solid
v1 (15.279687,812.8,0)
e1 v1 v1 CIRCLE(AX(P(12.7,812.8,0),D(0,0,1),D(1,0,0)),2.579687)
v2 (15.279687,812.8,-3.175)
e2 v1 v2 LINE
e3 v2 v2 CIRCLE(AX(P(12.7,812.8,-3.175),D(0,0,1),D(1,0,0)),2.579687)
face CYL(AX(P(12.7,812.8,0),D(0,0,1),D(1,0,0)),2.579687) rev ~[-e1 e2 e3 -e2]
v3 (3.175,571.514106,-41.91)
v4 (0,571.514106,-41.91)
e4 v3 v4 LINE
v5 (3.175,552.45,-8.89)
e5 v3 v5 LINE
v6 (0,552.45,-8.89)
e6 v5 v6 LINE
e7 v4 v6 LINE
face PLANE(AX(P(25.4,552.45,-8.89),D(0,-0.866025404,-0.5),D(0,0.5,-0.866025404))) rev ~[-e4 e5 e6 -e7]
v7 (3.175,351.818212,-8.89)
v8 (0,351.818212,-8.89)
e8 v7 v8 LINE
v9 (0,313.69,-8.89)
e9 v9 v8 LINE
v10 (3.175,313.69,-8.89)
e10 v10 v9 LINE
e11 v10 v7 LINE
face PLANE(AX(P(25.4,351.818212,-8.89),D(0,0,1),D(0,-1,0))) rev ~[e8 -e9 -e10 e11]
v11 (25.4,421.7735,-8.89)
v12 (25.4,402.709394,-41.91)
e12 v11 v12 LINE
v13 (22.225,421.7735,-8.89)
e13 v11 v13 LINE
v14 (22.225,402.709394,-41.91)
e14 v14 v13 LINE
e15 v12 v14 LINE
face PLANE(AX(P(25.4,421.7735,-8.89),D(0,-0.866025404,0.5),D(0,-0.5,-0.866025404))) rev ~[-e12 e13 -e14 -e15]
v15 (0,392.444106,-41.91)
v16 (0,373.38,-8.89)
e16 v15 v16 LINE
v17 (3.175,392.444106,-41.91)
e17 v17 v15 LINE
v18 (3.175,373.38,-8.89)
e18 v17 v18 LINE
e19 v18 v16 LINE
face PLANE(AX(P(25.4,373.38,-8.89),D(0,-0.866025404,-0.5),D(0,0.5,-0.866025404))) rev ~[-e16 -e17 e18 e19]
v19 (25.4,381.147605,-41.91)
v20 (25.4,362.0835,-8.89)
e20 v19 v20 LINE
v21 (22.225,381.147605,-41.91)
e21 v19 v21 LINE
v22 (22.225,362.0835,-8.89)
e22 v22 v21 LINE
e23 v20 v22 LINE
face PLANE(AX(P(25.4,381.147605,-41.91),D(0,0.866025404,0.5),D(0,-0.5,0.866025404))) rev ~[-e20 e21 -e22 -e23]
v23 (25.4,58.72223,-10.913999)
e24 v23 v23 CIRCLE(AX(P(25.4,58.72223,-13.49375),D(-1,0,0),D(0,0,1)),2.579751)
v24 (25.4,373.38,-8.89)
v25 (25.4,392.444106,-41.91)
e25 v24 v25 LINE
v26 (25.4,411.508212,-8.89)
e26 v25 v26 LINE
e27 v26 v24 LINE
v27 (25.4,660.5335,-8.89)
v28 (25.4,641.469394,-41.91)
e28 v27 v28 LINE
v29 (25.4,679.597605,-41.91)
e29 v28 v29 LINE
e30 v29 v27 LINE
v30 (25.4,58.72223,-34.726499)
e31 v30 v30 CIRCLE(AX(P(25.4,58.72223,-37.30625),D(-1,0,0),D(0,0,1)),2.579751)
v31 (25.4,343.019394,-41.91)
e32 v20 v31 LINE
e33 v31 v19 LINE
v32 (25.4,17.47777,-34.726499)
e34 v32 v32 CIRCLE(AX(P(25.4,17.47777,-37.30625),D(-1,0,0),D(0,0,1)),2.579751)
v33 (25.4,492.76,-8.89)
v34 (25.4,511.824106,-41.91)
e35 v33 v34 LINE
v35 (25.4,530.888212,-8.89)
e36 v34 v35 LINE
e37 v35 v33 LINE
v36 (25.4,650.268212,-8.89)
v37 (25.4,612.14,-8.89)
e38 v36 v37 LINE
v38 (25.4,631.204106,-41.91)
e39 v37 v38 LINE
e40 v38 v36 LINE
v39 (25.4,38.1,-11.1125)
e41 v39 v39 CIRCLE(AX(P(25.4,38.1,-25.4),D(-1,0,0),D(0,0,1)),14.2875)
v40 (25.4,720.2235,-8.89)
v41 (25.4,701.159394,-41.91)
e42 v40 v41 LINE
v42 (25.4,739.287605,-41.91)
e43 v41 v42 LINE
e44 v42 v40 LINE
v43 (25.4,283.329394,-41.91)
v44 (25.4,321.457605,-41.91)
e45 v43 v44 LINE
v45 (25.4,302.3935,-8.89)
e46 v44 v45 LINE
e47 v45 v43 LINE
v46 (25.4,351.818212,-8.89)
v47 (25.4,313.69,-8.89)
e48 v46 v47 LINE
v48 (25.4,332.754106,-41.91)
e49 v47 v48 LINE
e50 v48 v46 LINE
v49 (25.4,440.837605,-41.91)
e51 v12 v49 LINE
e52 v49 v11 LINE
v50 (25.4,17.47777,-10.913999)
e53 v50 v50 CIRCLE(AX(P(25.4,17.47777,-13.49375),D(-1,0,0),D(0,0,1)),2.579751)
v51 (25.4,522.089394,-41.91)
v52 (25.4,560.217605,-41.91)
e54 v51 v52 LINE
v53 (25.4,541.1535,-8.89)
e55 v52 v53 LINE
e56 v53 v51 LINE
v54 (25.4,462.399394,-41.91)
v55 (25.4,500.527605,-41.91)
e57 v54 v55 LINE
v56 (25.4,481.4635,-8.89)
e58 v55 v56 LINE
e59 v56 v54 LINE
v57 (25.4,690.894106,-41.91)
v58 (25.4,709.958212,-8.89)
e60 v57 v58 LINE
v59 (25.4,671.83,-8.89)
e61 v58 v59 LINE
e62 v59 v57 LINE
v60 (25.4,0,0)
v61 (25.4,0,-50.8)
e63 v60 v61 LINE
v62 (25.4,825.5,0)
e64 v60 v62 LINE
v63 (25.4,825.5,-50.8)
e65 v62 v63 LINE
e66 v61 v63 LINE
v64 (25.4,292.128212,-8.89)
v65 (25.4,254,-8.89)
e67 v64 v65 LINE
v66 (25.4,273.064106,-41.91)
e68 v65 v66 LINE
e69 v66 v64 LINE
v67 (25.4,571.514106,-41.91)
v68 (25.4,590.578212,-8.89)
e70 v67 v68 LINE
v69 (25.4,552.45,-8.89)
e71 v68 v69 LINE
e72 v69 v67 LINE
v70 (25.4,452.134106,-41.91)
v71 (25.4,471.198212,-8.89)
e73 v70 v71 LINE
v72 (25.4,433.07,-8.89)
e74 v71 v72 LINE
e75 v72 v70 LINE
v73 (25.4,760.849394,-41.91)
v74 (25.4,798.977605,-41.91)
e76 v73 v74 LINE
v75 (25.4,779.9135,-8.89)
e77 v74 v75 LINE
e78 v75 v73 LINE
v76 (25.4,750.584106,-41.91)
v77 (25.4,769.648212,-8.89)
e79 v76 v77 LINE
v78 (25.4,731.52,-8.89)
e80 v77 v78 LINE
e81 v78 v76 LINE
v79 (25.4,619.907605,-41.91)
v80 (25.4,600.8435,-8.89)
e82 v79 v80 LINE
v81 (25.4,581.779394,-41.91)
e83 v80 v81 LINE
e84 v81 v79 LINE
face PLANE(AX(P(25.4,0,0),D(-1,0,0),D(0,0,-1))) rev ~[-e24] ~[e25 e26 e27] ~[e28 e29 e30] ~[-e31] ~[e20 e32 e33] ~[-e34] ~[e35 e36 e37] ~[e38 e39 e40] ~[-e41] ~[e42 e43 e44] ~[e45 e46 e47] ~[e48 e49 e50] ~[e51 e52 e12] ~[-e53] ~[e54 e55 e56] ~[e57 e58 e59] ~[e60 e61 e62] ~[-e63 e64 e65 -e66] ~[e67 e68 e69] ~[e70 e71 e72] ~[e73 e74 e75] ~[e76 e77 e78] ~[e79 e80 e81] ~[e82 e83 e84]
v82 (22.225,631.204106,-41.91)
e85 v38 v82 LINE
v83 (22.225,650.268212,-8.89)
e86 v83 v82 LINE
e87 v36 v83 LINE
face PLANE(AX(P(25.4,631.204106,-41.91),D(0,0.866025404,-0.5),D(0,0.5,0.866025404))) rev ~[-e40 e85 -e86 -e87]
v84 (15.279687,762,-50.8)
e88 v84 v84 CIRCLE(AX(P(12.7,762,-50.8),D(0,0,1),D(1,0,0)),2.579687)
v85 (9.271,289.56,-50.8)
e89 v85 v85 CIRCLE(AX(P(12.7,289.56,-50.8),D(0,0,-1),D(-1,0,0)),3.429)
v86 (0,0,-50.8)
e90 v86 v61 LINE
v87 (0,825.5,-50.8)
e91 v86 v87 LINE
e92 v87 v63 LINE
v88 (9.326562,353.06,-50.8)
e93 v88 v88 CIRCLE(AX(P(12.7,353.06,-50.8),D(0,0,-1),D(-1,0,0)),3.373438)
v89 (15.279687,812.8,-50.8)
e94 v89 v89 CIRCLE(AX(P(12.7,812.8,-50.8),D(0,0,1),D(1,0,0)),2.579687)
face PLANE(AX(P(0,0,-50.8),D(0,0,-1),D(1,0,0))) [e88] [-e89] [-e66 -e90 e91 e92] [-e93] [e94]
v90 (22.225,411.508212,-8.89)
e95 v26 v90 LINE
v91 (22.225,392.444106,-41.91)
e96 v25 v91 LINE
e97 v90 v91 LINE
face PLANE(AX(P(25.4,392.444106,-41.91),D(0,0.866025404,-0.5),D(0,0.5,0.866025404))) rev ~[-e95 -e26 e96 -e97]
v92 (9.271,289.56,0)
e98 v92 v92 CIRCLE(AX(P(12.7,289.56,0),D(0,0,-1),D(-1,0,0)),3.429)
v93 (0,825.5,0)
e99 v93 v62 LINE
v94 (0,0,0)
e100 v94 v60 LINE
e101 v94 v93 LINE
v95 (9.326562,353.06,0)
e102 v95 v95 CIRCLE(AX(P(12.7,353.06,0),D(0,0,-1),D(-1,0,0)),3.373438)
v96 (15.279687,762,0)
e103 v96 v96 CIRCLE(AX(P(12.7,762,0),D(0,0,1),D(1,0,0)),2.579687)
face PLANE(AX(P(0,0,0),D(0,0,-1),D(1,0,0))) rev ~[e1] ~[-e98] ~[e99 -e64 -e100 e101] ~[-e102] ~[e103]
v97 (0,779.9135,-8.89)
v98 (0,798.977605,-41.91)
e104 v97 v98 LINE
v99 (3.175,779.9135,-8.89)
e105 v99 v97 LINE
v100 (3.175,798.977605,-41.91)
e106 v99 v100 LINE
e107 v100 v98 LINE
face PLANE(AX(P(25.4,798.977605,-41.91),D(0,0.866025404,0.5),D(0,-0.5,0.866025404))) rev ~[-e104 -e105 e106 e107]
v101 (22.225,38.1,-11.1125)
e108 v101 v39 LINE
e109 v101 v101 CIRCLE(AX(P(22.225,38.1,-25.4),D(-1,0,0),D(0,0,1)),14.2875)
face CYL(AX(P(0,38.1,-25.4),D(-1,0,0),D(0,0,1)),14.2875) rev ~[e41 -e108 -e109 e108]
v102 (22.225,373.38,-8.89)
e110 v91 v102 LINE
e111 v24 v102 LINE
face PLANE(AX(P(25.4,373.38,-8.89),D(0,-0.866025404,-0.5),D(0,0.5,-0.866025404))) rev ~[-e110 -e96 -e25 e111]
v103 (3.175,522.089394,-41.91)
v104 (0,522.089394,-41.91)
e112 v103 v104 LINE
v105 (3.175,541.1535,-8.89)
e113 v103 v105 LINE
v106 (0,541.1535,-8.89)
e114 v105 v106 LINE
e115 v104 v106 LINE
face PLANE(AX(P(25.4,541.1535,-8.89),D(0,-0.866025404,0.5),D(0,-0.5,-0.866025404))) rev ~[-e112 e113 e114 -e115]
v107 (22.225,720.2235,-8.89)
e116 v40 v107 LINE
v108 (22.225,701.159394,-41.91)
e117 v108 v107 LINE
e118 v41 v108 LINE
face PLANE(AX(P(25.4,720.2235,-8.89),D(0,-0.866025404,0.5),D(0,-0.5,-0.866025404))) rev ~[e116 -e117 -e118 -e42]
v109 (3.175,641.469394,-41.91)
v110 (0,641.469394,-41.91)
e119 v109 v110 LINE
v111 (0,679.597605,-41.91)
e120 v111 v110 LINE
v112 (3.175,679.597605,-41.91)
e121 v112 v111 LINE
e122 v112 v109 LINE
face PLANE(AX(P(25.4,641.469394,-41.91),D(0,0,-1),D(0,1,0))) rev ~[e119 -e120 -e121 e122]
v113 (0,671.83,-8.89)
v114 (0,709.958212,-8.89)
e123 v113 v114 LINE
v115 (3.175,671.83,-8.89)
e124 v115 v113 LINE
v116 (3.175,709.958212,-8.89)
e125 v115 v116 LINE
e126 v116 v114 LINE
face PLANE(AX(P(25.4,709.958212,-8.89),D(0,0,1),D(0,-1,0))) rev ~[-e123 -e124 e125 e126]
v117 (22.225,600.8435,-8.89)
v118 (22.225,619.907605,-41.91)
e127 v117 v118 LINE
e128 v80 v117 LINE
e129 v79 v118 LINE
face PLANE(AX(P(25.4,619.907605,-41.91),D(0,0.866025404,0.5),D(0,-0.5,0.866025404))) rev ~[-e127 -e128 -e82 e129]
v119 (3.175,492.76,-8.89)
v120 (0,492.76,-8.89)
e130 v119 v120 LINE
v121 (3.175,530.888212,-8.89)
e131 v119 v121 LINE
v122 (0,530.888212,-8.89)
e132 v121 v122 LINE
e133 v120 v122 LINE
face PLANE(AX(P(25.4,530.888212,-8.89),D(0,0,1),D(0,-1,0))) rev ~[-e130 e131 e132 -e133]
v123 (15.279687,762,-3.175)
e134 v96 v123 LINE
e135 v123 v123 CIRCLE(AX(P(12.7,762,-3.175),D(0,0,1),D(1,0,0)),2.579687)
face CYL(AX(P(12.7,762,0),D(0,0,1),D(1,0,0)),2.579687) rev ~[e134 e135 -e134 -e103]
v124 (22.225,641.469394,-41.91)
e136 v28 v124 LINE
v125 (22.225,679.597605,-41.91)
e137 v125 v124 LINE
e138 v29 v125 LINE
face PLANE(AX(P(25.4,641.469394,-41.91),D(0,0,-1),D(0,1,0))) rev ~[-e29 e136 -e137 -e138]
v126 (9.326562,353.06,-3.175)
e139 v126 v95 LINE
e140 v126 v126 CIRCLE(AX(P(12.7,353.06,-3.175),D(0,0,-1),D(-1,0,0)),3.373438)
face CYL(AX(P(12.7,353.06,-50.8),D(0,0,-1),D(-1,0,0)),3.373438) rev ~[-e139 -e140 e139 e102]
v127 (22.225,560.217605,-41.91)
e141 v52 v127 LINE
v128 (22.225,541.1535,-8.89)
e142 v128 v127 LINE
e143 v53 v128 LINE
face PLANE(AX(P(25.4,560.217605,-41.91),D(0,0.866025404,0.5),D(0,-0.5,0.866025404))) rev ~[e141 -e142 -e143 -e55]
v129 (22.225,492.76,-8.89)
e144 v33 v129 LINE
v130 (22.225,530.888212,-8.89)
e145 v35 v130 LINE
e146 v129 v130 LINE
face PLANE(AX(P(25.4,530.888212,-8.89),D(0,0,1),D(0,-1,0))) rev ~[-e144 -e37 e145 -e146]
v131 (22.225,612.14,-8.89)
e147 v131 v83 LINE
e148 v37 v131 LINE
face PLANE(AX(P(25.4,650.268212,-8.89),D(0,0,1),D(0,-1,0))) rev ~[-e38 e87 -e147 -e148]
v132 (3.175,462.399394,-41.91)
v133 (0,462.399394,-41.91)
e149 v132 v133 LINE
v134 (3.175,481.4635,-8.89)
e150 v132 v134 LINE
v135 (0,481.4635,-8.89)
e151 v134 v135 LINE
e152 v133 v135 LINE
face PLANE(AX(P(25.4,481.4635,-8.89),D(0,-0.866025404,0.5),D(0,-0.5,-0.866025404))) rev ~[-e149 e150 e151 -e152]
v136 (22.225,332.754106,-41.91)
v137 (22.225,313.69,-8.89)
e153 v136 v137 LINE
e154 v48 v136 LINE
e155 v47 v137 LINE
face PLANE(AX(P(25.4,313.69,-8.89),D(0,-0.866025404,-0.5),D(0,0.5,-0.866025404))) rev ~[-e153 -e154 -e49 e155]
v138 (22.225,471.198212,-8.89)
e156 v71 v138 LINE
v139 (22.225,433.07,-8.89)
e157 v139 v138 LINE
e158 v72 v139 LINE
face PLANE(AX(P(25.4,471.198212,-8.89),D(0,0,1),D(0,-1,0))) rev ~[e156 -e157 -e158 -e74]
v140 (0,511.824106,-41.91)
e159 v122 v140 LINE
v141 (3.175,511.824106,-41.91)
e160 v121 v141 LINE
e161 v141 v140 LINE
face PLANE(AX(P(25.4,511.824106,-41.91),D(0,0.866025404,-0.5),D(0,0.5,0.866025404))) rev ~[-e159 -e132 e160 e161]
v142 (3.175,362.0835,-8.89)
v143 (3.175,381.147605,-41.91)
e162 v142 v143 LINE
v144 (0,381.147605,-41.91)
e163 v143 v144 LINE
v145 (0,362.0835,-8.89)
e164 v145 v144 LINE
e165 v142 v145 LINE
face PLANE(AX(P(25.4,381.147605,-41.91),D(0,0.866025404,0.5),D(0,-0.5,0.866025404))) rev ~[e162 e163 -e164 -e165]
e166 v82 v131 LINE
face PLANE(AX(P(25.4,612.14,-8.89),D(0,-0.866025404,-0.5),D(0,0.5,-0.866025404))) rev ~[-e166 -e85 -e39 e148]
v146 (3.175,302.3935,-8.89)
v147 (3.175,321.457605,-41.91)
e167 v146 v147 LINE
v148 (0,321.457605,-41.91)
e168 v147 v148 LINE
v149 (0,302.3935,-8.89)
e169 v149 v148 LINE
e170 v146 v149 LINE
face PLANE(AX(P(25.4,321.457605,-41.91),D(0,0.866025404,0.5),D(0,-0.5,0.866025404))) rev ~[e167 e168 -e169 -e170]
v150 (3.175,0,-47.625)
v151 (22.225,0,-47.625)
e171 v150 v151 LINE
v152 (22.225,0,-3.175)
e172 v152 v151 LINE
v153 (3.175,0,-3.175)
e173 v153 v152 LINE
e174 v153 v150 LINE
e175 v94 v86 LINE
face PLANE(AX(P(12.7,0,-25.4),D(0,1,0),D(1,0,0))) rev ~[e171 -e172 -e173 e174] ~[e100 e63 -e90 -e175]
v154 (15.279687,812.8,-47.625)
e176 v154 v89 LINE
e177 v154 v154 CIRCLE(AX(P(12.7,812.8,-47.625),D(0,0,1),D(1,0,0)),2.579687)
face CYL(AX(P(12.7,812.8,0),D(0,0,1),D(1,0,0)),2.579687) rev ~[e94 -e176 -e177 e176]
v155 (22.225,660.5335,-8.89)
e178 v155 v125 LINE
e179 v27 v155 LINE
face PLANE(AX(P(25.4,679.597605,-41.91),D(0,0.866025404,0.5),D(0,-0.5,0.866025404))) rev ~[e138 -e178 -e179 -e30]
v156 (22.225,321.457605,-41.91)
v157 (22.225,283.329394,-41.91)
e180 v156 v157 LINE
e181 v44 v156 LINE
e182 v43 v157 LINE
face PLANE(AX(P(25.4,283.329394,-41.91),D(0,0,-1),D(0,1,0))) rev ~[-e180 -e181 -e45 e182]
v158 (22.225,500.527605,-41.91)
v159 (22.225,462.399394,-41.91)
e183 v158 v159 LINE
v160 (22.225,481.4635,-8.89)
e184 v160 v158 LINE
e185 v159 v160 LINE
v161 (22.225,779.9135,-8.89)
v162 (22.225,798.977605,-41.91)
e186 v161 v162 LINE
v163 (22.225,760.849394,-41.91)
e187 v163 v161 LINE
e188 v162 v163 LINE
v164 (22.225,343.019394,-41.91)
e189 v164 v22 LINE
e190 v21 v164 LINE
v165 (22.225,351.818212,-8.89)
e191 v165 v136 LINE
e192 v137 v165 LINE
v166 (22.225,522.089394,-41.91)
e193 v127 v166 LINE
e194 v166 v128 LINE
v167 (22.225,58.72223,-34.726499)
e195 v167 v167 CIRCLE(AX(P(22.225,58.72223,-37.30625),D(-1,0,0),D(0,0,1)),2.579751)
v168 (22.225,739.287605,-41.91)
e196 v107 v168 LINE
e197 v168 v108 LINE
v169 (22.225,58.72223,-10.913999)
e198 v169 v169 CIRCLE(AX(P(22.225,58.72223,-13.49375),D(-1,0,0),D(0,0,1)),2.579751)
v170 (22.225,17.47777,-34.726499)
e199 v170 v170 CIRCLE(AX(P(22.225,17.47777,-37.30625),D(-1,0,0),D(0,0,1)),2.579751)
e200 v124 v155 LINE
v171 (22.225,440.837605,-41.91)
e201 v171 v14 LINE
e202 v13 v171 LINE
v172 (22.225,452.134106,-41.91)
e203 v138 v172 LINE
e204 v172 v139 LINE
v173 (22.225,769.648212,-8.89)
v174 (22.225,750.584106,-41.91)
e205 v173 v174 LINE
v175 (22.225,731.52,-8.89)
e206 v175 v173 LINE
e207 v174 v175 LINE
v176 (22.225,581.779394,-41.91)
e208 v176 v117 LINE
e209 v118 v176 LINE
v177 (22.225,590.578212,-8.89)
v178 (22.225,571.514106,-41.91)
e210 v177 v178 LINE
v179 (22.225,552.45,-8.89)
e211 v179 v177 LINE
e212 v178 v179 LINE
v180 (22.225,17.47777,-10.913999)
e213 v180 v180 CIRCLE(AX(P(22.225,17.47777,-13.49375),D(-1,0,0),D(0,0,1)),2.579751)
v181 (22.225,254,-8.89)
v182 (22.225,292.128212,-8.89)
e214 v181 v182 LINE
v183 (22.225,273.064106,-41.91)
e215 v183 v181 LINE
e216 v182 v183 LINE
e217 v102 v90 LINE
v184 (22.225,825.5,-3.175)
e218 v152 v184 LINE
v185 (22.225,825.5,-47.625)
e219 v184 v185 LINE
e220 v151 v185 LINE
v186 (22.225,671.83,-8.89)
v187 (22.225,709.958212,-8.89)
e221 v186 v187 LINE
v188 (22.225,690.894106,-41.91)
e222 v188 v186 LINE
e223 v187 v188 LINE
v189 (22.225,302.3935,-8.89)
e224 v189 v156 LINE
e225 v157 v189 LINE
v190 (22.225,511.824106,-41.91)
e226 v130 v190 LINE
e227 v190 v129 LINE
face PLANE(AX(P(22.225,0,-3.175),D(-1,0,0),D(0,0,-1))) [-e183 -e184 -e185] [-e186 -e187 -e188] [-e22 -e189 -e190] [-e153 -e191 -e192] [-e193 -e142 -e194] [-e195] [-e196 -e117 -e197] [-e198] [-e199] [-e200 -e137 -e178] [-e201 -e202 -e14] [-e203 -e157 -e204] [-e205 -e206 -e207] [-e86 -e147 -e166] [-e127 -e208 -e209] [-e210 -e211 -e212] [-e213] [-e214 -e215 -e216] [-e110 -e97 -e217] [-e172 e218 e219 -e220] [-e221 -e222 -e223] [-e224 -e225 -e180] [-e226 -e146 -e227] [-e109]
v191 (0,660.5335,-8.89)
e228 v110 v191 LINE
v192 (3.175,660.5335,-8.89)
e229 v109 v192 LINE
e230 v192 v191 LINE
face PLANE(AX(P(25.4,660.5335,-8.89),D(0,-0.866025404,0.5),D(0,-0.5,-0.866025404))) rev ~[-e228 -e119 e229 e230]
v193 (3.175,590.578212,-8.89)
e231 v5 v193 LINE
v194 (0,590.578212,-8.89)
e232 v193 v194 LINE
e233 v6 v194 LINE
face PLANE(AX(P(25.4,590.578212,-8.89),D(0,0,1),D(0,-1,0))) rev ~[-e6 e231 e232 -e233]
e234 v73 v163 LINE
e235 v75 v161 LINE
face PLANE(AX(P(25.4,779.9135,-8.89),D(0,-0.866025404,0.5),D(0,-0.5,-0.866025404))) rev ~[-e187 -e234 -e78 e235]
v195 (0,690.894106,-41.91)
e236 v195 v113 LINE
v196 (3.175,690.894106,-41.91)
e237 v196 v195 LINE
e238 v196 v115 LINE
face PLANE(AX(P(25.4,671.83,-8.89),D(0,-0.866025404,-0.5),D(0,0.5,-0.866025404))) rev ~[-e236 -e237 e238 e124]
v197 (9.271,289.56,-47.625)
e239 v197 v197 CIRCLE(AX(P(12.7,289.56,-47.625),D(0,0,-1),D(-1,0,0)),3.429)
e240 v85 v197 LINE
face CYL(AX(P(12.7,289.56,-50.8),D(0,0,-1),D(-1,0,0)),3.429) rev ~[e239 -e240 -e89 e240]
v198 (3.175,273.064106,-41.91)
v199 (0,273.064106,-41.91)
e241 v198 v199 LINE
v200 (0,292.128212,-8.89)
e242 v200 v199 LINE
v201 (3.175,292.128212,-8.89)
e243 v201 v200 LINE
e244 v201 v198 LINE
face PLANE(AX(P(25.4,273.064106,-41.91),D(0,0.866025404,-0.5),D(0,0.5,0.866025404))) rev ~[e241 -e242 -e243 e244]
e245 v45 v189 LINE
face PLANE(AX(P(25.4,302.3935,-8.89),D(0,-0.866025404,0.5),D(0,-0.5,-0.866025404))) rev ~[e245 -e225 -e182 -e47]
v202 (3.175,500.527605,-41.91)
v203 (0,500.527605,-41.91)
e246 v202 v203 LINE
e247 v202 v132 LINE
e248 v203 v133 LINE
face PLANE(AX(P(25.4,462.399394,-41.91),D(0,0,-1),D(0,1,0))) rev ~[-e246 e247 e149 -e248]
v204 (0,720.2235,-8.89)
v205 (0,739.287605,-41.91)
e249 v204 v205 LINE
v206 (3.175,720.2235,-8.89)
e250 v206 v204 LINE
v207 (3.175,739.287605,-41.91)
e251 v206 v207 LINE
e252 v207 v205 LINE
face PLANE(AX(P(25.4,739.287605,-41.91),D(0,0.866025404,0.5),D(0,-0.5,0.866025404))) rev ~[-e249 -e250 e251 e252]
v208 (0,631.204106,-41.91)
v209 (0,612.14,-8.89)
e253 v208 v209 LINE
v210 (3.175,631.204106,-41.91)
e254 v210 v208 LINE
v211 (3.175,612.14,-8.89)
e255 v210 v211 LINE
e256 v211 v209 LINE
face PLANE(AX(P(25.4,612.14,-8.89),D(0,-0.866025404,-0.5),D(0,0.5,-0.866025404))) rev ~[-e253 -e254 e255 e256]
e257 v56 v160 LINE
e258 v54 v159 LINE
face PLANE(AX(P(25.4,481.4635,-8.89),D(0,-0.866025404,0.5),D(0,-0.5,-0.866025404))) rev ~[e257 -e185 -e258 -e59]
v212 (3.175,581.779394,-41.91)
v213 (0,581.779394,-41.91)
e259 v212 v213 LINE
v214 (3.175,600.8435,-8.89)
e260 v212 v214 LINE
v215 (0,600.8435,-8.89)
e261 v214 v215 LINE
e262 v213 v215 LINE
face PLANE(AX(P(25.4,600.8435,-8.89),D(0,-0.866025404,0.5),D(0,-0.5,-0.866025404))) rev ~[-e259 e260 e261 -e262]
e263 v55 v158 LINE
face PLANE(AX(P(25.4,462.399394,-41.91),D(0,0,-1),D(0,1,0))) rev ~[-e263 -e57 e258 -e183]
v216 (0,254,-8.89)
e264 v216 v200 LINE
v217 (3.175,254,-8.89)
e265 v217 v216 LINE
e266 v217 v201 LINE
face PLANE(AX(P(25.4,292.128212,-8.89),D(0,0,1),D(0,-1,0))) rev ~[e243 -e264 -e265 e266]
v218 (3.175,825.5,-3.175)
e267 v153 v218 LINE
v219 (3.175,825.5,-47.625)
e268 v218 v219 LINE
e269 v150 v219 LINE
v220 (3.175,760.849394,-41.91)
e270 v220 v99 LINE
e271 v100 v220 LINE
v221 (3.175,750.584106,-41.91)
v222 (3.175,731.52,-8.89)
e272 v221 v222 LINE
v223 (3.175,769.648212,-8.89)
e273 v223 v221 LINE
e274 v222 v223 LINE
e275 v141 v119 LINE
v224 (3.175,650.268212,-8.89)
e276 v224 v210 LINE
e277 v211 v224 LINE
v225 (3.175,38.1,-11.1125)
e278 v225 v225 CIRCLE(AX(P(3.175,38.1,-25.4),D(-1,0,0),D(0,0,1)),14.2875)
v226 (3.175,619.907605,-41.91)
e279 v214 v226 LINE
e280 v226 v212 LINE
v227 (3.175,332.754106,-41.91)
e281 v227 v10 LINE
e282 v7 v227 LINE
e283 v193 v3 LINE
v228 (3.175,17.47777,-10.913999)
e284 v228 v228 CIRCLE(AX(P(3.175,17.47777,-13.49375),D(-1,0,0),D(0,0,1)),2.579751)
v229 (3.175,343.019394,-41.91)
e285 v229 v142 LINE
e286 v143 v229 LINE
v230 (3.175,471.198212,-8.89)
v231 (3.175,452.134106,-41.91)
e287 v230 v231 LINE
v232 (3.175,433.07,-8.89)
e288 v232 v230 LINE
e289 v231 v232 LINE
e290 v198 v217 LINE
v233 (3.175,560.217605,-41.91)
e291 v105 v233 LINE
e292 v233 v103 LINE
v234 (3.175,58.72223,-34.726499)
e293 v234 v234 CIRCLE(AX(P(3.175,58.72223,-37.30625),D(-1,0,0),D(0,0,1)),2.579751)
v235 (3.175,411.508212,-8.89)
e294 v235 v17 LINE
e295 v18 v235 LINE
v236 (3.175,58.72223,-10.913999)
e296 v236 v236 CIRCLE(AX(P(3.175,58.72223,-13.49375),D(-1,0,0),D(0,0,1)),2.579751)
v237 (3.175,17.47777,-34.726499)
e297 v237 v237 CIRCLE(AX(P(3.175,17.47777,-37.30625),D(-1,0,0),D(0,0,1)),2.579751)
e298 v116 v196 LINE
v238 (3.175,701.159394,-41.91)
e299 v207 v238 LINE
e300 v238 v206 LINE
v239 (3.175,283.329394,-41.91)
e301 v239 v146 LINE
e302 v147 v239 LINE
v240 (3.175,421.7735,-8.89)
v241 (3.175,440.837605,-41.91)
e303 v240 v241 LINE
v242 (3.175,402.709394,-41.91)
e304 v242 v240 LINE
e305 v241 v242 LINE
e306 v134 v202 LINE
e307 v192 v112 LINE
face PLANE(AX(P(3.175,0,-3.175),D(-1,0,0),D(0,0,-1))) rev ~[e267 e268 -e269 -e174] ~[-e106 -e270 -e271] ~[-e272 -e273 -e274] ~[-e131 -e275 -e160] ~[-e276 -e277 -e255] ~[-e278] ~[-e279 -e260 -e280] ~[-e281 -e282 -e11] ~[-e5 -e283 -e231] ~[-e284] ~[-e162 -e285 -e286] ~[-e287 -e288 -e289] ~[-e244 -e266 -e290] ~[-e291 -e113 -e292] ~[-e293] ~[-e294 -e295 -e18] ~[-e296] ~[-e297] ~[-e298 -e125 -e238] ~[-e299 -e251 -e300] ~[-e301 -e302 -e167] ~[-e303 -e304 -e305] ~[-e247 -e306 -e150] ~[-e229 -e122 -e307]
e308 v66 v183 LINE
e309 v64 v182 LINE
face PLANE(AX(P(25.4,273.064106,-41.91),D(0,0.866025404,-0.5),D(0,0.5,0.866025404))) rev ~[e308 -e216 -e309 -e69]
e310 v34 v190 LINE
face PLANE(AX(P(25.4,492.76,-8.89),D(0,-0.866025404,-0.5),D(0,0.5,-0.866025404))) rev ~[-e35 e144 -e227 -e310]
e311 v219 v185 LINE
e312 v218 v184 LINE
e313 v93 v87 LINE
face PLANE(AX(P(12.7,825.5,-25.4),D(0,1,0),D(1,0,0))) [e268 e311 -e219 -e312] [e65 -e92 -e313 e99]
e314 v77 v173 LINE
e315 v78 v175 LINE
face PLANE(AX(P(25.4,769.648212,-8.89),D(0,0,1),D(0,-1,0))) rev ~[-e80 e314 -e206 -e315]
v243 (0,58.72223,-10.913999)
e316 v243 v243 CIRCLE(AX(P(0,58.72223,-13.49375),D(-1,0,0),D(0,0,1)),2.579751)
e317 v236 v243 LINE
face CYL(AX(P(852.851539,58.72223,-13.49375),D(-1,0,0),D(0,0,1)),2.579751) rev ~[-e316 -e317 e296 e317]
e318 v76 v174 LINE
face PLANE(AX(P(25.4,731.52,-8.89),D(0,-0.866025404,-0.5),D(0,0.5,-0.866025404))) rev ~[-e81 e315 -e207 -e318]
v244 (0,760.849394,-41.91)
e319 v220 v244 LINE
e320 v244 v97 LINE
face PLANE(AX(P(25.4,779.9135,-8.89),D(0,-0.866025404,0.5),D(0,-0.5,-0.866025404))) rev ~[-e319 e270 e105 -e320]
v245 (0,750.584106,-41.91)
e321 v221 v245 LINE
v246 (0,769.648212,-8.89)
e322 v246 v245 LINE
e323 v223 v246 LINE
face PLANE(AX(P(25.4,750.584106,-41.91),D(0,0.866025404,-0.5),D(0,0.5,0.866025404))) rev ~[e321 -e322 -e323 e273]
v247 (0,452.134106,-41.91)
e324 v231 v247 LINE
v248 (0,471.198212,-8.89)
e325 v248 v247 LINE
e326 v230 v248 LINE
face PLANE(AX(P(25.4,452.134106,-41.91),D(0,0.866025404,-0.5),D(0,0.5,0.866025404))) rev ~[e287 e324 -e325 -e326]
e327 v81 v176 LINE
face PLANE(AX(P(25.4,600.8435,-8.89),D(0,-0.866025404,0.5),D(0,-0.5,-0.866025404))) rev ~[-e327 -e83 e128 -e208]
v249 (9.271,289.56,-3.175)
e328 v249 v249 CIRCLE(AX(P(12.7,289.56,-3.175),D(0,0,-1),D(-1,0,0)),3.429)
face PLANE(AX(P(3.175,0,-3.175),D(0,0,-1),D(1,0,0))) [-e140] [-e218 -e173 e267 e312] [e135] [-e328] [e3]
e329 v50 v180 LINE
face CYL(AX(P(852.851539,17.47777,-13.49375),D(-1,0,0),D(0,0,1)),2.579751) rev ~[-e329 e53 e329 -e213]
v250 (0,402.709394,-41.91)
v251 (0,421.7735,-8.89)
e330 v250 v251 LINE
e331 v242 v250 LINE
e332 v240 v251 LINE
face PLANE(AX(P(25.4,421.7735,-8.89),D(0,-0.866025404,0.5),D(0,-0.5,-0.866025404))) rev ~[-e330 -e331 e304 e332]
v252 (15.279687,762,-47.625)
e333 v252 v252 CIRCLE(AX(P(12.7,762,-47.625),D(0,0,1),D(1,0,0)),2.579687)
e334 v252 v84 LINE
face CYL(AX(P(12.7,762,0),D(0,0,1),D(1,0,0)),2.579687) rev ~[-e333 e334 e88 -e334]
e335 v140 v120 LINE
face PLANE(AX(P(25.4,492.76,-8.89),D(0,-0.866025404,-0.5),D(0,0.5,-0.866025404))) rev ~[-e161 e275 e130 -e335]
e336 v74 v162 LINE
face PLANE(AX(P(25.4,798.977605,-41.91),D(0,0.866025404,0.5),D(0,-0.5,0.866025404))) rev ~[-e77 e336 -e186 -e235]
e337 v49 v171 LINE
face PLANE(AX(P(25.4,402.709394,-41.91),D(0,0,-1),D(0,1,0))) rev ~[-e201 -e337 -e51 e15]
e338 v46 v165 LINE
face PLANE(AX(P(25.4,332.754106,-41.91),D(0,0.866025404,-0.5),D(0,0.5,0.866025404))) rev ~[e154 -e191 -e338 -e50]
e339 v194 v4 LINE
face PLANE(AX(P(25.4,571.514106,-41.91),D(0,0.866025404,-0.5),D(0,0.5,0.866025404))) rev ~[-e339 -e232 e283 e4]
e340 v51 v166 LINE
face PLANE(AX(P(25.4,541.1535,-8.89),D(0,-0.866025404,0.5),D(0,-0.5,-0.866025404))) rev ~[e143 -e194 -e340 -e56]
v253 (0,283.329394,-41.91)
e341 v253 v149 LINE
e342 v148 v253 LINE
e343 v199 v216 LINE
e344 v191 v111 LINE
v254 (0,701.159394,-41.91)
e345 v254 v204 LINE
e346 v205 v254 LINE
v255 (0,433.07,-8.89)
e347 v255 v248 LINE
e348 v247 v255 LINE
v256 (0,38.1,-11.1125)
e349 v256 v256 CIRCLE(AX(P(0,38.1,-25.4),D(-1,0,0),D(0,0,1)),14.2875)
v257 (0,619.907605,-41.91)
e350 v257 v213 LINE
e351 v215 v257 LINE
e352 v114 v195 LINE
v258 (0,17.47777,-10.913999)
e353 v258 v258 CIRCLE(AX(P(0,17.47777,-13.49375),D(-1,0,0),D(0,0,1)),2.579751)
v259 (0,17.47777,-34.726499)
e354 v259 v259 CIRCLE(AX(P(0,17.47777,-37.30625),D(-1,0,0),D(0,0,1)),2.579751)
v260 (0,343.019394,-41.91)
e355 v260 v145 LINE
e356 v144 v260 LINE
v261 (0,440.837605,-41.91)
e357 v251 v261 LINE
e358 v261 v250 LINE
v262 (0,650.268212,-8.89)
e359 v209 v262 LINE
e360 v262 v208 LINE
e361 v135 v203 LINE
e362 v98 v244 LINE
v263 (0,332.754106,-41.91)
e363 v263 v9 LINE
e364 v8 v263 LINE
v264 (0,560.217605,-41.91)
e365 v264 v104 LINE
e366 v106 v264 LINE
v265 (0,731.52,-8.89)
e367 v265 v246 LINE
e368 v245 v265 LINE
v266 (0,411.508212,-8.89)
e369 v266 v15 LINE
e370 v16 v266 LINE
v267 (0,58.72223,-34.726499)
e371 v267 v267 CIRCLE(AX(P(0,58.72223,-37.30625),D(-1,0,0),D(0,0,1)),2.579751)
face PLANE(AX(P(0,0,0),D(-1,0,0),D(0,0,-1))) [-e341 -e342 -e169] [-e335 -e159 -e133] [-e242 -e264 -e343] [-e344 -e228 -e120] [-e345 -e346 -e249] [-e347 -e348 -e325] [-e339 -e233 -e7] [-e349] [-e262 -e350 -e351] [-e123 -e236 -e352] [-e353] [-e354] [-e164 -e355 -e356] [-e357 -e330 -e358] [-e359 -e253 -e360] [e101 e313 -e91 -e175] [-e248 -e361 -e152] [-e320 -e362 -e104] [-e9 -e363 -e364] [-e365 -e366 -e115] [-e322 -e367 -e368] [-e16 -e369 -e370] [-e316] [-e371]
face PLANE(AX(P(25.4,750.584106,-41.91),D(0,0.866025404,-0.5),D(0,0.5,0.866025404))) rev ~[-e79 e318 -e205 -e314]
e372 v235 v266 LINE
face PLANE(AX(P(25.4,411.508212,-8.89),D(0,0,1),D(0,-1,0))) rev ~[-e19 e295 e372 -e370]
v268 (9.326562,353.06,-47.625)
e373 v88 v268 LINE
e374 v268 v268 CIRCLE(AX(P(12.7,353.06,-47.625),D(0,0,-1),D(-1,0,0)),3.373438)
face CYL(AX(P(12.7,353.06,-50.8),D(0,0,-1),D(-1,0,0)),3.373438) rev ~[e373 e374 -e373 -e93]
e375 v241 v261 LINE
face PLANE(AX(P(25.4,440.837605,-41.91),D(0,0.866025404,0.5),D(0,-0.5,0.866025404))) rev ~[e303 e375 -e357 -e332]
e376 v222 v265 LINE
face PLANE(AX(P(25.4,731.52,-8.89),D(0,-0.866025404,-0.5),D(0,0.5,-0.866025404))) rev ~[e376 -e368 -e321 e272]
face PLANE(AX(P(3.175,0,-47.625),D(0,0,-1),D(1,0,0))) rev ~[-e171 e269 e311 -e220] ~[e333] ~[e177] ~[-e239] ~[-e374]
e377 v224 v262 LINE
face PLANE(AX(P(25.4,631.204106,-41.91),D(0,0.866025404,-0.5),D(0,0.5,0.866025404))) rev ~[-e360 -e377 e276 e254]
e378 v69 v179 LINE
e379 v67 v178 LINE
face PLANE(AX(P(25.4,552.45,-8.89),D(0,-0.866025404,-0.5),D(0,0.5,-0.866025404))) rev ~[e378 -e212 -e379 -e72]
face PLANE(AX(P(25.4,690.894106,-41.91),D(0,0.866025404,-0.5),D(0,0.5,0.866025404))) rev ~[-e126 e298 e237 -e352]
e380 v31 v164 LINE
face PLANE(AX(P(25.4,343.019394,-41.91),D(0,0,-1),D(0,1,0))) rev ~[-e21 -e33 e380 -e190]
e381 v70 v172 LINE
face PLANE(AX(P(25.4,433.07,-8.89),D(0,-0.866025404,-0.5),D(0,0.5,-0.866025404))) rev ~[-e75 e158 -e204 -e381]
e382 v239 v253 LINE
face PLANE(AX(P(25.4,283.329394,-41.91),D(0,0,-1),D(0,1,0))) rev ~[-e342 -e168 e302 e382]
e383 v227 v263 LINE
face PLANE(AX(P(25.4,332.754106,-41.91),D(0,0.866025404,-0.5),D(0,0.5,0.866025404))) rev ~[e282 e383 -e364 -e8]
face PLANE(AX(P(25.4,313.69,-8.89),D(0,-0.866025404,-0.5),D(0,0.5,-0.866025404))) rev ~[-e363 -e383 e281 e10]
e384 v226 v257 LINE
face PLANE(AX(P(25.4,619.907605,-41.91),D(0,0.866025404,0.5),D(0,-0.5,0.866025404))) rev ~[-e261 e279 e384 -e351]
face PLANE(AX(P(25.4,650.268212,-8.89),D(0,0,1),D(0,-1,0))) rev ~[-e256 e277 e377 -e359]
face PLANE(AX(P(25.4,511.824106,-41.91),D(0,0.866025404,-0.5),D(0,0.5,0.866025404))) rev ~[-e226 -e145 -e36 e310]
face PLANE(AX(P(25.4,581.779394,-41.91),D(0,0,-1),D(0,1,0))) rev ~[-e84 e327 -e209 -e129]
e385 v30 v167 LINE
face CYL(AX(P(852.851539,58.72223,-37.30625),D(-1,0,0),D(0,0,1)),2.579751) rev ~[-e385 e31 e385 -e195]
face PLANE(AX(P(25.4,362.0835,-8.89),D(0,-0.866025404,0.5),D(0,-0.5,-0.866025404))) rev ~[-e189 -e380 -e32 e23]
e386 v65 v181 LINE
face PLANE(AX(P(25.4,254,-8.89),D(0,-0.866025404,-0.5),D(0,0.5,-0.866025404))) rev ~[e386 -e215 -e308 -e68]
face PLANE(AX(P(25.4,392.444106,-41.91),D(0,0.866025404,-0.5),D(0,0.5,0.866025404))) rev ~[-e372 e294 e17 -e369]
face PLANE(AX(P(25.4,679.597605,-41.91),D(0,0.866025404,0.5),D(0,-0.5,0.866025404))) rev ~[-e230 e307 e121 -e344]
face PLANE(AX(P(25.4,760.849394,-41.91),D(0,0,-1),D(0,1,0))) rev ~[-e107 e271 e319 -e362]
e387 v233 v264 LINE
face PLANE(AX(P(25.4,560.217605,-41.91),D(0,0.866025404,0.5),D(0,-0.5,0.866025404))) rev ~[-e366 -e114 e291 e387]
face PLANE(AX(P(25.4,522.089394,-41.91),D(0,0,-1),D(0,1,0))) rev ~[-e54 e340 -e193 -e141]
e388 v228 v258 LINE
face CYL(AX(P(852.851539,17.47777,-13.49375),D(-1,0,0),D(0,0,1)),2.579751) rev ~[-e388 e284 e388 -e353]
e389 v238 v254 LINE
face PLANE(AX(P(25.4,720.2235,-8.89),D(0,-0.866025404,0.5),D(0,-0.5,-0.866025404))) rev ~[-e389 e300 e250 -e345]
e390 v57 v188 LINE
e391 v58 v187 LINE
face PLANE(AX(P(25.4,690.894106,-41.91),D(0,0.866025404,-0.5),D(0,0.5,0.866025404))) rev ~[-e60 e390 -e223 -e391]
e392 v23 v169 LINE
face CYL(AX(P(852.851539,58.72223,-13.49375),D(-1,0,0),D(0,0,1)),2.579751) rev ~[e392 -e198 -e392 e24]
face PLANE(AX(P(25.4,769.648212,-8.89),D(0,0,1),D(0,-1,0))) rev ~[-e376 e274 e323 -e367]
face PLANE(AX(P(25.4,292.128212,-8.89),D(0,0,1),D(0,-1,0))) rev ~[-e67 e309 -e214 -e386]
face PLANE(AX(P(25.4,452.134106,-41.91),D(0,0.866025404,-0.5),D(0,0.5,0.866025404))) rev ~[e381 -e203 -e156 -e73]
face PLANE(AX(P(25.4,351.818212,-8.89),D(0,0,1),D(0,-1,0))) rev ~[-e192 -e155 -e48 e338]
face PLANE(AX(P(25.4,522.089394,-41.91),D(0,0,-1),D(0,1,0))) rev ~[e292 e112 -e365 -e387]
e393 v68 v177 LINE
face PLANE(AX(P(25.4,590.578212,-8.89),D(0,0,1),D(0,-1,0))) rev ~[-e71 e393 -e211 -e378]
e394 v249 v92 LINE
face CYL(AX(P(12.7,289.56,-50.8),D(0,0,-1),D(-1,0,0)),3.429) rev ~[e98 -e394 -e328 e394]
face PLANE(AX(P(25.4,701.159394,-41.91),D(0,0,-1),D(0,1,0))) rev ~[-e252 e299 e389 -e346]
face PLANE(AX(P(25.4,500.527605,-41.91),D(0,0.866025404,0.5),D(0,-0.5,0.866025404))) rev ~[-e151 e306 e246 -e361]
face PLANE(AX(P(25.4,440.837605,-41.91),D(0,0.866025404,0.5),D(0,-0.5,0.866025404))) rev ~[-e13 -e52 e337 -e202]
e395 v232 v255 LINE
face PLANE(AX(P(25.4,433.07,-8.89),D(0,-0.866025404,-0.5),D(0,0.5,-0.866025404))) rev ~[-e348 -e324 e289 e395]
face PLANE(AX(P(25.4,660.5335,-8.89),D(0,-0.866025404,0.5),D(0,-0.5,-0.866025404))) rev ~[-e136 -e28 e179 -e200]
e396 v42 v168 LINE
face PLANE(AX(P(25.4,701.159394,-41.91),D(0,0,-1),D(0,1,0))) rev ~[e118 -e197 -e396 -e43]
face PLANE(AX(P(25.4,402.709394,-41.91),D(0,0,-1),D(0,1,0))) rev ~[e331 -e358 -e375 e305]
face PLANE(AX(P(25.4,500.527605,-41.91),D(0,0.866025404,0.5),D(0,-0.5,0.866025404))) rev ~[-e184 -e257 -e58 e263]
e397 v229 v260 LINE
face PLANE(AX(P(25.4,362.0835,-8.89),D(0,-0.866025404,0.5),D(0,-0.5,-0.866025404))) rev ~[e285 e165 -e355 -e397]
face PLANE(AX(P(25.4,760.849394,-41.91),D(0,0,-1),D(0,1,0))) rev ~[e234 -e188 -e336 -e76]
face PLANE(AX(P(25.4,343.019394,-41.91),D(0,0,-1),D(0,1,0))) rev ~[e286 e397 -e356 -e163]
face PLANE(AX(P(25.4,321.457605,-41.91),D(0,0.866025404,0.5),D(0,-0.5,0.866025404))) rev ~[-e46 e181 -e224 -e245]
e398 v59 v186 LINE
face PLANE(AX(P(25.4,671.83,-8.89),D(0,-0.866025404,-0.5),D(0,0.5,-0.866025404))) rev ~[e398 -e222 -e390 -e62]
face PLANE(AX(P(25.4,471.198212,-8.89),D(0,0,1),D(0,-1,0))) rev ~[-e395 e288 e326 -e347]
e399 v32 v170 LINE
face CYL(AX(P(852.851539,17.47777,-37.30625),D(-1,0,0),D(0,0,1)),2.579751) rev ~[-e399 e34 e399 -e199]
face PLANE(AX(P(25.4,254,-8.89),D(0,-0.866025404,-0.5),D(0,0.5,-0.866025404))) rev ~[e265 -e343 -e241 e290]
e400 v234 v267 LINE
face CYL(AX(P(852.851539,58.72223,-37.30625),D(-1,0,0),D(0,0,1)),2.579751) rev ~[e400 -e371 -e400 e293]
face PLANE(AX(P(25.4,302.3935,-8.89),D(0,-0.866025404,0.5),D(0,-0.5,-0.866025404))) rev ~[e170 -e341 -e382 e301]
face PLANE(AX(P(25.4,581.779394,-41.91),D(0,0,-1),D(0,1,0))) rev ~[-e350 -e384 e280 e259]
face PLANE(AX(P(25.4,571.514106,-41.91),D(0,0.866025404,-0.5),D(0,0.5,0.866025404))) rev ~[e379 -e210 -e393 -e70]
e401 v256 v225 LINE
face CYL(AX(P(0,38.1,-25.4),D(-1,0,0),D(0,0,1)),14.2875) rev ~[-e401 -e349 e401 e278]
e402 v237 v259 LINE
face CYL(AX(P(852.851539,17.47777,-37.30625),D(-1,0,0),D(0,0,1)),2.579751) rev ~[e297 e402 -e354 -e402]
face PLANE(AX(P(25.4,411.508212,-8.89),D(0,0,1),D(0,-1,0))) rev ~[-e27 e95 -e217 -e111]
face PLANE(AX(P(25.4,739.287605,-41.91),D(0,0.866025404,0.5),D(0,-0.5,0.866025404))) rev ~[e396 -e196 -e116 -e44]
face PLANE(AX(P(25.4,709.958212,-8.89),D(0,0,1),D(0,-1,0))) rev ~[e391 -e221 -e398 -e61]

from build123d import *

# Parameters (mm, degrees)
SKETCH1_W                        = 25.4
SKETCH1_H                        = 50.8
SKETCH1_W_2                      = 19.05
SKETCH1_H_2                      = 44.45
BOSS_EXTRUDE1_DEPTH              = 825.5
SKETCH2_R                        = 14.2875
CUT_EXTRUDE1_DEPTH               = 828.451539367
SKETCH3_R                        = 2.5796875
CUT_EXTRUDE2_DEPTH               = 828.451539367
F_13_64_0_20313_DIAMETER_HOLE1_D = 5.159502
SKETCH6_R                        = 3.3734375
SKETCH6_R_2                      = 3.429
CUT_EXTRUDE3_DEPTH               = 828.451539367
CUT_EXTRUDE4_DEPTH               = 828.451539367
LPATTERN1_COUNT                  = 9
LPATTERN1_PITCH                  = 59.69


with BuildPart() as part:
    # Sketch1 → Boss-Extrude1 (new body)
    with BuildSketch(Plane(origin=(0, 0, 0), x_dir=(1, 0, 0), z_dir=(0, 1, 0))):
        with Locations((12.7, 25.4)):
            Rectangle(SKETCH1_W, SKETCH1_H)
        with Locations((12.7, 25.4)):
            Rectangle(SKETCH1_W_2, SKETCH1_H_2, mode=Mode.SUBTRACT)
    extrude(amount=BOSS_EXTRUDE1_DEPTH)

    # Sketch2 → Cut-Extrude1 (cut, through all)
    with BuildSketch(Plane.ZY):
        with Locations((-25.4, 38.1)):
            Circle(SKETCH2_R)
    extrude(amount=-CUT_EXTRUDE1_DEPTH, mode=Mode.SUBTRACT)

    # Sketch3 → Cut-Extrude2 (cut, through all)
    with BuildSketch(Plane.XY):
        with Locations((12.7, 812.8)):
            Circle(SKETCH3_R)
        with Locations((12.7, 762)):
            Circle(SKETCH3_R)
    extrude(amount=-CUT_EXTRUDE2_DEPTH, mode=Mode.SUBTRACT)

    # 13/64 (0.20313) Diameter Hole1 (through all)
    with Locations(Plane(origin=(25.4, 0, 0), x_dir=(0, 0, -1), z_dir=(1, 0, 0))):
        with Locations((37.30625, 58.722229928), (13.49375, 58.722229928), (37.30625, 17.477770072), (13.49375, 17.477770072)):
            Hole(F_13_64_0_20313_DIAMETER_HOLE1_D / 2)

    # Sketch6 → Cut-Extrude3 (cut, through all)
    with BuildSketch(Plane(origin=(0, 0, -50.8), x_dir=(-1, 0, 0), z_dir=(0, 0, -1))):
        with Locations((-12.7, 353.06)):
            Circle(SKETCH6_R)
        with Locations((-12.7, 289.56)):
            Circle(SKETCH6_R_2)
    extrude(amount=-CUT_EXTRUDE3_DEPTH, mode=Mode.SUBTRACT)

    # Sketch7 → Cut-Extrude4 (cut, through all)
    with BuildSketch(Plane(origin=(25.4, 0, 0), x_dir=(0, 0, -1), z_dir=(1, 0, 0))):
        Polygon((41.91, 273.064105889), (8.89, 292.128211777), (8.89, 254), align=None)
        Polygon((41.91, 321.457605452), (8.89, 302.393499563), (41.91, 283.329393675), align=None)
    cut_extrude4 = extrude(amount=-CUT_EXTRUDE4_DEPTH, mode=Mode.SUBTRACT)

    # LPattern1: Cut-Extrude4 ×9
    with Locations(*[(0, i * LPATTERN1_PITCH, 0) for i in range(1, LPATTERN1_COUNT)]):
        add(cut_extrude4, mode=Mode.SUBTRACT)


solid = part.part
